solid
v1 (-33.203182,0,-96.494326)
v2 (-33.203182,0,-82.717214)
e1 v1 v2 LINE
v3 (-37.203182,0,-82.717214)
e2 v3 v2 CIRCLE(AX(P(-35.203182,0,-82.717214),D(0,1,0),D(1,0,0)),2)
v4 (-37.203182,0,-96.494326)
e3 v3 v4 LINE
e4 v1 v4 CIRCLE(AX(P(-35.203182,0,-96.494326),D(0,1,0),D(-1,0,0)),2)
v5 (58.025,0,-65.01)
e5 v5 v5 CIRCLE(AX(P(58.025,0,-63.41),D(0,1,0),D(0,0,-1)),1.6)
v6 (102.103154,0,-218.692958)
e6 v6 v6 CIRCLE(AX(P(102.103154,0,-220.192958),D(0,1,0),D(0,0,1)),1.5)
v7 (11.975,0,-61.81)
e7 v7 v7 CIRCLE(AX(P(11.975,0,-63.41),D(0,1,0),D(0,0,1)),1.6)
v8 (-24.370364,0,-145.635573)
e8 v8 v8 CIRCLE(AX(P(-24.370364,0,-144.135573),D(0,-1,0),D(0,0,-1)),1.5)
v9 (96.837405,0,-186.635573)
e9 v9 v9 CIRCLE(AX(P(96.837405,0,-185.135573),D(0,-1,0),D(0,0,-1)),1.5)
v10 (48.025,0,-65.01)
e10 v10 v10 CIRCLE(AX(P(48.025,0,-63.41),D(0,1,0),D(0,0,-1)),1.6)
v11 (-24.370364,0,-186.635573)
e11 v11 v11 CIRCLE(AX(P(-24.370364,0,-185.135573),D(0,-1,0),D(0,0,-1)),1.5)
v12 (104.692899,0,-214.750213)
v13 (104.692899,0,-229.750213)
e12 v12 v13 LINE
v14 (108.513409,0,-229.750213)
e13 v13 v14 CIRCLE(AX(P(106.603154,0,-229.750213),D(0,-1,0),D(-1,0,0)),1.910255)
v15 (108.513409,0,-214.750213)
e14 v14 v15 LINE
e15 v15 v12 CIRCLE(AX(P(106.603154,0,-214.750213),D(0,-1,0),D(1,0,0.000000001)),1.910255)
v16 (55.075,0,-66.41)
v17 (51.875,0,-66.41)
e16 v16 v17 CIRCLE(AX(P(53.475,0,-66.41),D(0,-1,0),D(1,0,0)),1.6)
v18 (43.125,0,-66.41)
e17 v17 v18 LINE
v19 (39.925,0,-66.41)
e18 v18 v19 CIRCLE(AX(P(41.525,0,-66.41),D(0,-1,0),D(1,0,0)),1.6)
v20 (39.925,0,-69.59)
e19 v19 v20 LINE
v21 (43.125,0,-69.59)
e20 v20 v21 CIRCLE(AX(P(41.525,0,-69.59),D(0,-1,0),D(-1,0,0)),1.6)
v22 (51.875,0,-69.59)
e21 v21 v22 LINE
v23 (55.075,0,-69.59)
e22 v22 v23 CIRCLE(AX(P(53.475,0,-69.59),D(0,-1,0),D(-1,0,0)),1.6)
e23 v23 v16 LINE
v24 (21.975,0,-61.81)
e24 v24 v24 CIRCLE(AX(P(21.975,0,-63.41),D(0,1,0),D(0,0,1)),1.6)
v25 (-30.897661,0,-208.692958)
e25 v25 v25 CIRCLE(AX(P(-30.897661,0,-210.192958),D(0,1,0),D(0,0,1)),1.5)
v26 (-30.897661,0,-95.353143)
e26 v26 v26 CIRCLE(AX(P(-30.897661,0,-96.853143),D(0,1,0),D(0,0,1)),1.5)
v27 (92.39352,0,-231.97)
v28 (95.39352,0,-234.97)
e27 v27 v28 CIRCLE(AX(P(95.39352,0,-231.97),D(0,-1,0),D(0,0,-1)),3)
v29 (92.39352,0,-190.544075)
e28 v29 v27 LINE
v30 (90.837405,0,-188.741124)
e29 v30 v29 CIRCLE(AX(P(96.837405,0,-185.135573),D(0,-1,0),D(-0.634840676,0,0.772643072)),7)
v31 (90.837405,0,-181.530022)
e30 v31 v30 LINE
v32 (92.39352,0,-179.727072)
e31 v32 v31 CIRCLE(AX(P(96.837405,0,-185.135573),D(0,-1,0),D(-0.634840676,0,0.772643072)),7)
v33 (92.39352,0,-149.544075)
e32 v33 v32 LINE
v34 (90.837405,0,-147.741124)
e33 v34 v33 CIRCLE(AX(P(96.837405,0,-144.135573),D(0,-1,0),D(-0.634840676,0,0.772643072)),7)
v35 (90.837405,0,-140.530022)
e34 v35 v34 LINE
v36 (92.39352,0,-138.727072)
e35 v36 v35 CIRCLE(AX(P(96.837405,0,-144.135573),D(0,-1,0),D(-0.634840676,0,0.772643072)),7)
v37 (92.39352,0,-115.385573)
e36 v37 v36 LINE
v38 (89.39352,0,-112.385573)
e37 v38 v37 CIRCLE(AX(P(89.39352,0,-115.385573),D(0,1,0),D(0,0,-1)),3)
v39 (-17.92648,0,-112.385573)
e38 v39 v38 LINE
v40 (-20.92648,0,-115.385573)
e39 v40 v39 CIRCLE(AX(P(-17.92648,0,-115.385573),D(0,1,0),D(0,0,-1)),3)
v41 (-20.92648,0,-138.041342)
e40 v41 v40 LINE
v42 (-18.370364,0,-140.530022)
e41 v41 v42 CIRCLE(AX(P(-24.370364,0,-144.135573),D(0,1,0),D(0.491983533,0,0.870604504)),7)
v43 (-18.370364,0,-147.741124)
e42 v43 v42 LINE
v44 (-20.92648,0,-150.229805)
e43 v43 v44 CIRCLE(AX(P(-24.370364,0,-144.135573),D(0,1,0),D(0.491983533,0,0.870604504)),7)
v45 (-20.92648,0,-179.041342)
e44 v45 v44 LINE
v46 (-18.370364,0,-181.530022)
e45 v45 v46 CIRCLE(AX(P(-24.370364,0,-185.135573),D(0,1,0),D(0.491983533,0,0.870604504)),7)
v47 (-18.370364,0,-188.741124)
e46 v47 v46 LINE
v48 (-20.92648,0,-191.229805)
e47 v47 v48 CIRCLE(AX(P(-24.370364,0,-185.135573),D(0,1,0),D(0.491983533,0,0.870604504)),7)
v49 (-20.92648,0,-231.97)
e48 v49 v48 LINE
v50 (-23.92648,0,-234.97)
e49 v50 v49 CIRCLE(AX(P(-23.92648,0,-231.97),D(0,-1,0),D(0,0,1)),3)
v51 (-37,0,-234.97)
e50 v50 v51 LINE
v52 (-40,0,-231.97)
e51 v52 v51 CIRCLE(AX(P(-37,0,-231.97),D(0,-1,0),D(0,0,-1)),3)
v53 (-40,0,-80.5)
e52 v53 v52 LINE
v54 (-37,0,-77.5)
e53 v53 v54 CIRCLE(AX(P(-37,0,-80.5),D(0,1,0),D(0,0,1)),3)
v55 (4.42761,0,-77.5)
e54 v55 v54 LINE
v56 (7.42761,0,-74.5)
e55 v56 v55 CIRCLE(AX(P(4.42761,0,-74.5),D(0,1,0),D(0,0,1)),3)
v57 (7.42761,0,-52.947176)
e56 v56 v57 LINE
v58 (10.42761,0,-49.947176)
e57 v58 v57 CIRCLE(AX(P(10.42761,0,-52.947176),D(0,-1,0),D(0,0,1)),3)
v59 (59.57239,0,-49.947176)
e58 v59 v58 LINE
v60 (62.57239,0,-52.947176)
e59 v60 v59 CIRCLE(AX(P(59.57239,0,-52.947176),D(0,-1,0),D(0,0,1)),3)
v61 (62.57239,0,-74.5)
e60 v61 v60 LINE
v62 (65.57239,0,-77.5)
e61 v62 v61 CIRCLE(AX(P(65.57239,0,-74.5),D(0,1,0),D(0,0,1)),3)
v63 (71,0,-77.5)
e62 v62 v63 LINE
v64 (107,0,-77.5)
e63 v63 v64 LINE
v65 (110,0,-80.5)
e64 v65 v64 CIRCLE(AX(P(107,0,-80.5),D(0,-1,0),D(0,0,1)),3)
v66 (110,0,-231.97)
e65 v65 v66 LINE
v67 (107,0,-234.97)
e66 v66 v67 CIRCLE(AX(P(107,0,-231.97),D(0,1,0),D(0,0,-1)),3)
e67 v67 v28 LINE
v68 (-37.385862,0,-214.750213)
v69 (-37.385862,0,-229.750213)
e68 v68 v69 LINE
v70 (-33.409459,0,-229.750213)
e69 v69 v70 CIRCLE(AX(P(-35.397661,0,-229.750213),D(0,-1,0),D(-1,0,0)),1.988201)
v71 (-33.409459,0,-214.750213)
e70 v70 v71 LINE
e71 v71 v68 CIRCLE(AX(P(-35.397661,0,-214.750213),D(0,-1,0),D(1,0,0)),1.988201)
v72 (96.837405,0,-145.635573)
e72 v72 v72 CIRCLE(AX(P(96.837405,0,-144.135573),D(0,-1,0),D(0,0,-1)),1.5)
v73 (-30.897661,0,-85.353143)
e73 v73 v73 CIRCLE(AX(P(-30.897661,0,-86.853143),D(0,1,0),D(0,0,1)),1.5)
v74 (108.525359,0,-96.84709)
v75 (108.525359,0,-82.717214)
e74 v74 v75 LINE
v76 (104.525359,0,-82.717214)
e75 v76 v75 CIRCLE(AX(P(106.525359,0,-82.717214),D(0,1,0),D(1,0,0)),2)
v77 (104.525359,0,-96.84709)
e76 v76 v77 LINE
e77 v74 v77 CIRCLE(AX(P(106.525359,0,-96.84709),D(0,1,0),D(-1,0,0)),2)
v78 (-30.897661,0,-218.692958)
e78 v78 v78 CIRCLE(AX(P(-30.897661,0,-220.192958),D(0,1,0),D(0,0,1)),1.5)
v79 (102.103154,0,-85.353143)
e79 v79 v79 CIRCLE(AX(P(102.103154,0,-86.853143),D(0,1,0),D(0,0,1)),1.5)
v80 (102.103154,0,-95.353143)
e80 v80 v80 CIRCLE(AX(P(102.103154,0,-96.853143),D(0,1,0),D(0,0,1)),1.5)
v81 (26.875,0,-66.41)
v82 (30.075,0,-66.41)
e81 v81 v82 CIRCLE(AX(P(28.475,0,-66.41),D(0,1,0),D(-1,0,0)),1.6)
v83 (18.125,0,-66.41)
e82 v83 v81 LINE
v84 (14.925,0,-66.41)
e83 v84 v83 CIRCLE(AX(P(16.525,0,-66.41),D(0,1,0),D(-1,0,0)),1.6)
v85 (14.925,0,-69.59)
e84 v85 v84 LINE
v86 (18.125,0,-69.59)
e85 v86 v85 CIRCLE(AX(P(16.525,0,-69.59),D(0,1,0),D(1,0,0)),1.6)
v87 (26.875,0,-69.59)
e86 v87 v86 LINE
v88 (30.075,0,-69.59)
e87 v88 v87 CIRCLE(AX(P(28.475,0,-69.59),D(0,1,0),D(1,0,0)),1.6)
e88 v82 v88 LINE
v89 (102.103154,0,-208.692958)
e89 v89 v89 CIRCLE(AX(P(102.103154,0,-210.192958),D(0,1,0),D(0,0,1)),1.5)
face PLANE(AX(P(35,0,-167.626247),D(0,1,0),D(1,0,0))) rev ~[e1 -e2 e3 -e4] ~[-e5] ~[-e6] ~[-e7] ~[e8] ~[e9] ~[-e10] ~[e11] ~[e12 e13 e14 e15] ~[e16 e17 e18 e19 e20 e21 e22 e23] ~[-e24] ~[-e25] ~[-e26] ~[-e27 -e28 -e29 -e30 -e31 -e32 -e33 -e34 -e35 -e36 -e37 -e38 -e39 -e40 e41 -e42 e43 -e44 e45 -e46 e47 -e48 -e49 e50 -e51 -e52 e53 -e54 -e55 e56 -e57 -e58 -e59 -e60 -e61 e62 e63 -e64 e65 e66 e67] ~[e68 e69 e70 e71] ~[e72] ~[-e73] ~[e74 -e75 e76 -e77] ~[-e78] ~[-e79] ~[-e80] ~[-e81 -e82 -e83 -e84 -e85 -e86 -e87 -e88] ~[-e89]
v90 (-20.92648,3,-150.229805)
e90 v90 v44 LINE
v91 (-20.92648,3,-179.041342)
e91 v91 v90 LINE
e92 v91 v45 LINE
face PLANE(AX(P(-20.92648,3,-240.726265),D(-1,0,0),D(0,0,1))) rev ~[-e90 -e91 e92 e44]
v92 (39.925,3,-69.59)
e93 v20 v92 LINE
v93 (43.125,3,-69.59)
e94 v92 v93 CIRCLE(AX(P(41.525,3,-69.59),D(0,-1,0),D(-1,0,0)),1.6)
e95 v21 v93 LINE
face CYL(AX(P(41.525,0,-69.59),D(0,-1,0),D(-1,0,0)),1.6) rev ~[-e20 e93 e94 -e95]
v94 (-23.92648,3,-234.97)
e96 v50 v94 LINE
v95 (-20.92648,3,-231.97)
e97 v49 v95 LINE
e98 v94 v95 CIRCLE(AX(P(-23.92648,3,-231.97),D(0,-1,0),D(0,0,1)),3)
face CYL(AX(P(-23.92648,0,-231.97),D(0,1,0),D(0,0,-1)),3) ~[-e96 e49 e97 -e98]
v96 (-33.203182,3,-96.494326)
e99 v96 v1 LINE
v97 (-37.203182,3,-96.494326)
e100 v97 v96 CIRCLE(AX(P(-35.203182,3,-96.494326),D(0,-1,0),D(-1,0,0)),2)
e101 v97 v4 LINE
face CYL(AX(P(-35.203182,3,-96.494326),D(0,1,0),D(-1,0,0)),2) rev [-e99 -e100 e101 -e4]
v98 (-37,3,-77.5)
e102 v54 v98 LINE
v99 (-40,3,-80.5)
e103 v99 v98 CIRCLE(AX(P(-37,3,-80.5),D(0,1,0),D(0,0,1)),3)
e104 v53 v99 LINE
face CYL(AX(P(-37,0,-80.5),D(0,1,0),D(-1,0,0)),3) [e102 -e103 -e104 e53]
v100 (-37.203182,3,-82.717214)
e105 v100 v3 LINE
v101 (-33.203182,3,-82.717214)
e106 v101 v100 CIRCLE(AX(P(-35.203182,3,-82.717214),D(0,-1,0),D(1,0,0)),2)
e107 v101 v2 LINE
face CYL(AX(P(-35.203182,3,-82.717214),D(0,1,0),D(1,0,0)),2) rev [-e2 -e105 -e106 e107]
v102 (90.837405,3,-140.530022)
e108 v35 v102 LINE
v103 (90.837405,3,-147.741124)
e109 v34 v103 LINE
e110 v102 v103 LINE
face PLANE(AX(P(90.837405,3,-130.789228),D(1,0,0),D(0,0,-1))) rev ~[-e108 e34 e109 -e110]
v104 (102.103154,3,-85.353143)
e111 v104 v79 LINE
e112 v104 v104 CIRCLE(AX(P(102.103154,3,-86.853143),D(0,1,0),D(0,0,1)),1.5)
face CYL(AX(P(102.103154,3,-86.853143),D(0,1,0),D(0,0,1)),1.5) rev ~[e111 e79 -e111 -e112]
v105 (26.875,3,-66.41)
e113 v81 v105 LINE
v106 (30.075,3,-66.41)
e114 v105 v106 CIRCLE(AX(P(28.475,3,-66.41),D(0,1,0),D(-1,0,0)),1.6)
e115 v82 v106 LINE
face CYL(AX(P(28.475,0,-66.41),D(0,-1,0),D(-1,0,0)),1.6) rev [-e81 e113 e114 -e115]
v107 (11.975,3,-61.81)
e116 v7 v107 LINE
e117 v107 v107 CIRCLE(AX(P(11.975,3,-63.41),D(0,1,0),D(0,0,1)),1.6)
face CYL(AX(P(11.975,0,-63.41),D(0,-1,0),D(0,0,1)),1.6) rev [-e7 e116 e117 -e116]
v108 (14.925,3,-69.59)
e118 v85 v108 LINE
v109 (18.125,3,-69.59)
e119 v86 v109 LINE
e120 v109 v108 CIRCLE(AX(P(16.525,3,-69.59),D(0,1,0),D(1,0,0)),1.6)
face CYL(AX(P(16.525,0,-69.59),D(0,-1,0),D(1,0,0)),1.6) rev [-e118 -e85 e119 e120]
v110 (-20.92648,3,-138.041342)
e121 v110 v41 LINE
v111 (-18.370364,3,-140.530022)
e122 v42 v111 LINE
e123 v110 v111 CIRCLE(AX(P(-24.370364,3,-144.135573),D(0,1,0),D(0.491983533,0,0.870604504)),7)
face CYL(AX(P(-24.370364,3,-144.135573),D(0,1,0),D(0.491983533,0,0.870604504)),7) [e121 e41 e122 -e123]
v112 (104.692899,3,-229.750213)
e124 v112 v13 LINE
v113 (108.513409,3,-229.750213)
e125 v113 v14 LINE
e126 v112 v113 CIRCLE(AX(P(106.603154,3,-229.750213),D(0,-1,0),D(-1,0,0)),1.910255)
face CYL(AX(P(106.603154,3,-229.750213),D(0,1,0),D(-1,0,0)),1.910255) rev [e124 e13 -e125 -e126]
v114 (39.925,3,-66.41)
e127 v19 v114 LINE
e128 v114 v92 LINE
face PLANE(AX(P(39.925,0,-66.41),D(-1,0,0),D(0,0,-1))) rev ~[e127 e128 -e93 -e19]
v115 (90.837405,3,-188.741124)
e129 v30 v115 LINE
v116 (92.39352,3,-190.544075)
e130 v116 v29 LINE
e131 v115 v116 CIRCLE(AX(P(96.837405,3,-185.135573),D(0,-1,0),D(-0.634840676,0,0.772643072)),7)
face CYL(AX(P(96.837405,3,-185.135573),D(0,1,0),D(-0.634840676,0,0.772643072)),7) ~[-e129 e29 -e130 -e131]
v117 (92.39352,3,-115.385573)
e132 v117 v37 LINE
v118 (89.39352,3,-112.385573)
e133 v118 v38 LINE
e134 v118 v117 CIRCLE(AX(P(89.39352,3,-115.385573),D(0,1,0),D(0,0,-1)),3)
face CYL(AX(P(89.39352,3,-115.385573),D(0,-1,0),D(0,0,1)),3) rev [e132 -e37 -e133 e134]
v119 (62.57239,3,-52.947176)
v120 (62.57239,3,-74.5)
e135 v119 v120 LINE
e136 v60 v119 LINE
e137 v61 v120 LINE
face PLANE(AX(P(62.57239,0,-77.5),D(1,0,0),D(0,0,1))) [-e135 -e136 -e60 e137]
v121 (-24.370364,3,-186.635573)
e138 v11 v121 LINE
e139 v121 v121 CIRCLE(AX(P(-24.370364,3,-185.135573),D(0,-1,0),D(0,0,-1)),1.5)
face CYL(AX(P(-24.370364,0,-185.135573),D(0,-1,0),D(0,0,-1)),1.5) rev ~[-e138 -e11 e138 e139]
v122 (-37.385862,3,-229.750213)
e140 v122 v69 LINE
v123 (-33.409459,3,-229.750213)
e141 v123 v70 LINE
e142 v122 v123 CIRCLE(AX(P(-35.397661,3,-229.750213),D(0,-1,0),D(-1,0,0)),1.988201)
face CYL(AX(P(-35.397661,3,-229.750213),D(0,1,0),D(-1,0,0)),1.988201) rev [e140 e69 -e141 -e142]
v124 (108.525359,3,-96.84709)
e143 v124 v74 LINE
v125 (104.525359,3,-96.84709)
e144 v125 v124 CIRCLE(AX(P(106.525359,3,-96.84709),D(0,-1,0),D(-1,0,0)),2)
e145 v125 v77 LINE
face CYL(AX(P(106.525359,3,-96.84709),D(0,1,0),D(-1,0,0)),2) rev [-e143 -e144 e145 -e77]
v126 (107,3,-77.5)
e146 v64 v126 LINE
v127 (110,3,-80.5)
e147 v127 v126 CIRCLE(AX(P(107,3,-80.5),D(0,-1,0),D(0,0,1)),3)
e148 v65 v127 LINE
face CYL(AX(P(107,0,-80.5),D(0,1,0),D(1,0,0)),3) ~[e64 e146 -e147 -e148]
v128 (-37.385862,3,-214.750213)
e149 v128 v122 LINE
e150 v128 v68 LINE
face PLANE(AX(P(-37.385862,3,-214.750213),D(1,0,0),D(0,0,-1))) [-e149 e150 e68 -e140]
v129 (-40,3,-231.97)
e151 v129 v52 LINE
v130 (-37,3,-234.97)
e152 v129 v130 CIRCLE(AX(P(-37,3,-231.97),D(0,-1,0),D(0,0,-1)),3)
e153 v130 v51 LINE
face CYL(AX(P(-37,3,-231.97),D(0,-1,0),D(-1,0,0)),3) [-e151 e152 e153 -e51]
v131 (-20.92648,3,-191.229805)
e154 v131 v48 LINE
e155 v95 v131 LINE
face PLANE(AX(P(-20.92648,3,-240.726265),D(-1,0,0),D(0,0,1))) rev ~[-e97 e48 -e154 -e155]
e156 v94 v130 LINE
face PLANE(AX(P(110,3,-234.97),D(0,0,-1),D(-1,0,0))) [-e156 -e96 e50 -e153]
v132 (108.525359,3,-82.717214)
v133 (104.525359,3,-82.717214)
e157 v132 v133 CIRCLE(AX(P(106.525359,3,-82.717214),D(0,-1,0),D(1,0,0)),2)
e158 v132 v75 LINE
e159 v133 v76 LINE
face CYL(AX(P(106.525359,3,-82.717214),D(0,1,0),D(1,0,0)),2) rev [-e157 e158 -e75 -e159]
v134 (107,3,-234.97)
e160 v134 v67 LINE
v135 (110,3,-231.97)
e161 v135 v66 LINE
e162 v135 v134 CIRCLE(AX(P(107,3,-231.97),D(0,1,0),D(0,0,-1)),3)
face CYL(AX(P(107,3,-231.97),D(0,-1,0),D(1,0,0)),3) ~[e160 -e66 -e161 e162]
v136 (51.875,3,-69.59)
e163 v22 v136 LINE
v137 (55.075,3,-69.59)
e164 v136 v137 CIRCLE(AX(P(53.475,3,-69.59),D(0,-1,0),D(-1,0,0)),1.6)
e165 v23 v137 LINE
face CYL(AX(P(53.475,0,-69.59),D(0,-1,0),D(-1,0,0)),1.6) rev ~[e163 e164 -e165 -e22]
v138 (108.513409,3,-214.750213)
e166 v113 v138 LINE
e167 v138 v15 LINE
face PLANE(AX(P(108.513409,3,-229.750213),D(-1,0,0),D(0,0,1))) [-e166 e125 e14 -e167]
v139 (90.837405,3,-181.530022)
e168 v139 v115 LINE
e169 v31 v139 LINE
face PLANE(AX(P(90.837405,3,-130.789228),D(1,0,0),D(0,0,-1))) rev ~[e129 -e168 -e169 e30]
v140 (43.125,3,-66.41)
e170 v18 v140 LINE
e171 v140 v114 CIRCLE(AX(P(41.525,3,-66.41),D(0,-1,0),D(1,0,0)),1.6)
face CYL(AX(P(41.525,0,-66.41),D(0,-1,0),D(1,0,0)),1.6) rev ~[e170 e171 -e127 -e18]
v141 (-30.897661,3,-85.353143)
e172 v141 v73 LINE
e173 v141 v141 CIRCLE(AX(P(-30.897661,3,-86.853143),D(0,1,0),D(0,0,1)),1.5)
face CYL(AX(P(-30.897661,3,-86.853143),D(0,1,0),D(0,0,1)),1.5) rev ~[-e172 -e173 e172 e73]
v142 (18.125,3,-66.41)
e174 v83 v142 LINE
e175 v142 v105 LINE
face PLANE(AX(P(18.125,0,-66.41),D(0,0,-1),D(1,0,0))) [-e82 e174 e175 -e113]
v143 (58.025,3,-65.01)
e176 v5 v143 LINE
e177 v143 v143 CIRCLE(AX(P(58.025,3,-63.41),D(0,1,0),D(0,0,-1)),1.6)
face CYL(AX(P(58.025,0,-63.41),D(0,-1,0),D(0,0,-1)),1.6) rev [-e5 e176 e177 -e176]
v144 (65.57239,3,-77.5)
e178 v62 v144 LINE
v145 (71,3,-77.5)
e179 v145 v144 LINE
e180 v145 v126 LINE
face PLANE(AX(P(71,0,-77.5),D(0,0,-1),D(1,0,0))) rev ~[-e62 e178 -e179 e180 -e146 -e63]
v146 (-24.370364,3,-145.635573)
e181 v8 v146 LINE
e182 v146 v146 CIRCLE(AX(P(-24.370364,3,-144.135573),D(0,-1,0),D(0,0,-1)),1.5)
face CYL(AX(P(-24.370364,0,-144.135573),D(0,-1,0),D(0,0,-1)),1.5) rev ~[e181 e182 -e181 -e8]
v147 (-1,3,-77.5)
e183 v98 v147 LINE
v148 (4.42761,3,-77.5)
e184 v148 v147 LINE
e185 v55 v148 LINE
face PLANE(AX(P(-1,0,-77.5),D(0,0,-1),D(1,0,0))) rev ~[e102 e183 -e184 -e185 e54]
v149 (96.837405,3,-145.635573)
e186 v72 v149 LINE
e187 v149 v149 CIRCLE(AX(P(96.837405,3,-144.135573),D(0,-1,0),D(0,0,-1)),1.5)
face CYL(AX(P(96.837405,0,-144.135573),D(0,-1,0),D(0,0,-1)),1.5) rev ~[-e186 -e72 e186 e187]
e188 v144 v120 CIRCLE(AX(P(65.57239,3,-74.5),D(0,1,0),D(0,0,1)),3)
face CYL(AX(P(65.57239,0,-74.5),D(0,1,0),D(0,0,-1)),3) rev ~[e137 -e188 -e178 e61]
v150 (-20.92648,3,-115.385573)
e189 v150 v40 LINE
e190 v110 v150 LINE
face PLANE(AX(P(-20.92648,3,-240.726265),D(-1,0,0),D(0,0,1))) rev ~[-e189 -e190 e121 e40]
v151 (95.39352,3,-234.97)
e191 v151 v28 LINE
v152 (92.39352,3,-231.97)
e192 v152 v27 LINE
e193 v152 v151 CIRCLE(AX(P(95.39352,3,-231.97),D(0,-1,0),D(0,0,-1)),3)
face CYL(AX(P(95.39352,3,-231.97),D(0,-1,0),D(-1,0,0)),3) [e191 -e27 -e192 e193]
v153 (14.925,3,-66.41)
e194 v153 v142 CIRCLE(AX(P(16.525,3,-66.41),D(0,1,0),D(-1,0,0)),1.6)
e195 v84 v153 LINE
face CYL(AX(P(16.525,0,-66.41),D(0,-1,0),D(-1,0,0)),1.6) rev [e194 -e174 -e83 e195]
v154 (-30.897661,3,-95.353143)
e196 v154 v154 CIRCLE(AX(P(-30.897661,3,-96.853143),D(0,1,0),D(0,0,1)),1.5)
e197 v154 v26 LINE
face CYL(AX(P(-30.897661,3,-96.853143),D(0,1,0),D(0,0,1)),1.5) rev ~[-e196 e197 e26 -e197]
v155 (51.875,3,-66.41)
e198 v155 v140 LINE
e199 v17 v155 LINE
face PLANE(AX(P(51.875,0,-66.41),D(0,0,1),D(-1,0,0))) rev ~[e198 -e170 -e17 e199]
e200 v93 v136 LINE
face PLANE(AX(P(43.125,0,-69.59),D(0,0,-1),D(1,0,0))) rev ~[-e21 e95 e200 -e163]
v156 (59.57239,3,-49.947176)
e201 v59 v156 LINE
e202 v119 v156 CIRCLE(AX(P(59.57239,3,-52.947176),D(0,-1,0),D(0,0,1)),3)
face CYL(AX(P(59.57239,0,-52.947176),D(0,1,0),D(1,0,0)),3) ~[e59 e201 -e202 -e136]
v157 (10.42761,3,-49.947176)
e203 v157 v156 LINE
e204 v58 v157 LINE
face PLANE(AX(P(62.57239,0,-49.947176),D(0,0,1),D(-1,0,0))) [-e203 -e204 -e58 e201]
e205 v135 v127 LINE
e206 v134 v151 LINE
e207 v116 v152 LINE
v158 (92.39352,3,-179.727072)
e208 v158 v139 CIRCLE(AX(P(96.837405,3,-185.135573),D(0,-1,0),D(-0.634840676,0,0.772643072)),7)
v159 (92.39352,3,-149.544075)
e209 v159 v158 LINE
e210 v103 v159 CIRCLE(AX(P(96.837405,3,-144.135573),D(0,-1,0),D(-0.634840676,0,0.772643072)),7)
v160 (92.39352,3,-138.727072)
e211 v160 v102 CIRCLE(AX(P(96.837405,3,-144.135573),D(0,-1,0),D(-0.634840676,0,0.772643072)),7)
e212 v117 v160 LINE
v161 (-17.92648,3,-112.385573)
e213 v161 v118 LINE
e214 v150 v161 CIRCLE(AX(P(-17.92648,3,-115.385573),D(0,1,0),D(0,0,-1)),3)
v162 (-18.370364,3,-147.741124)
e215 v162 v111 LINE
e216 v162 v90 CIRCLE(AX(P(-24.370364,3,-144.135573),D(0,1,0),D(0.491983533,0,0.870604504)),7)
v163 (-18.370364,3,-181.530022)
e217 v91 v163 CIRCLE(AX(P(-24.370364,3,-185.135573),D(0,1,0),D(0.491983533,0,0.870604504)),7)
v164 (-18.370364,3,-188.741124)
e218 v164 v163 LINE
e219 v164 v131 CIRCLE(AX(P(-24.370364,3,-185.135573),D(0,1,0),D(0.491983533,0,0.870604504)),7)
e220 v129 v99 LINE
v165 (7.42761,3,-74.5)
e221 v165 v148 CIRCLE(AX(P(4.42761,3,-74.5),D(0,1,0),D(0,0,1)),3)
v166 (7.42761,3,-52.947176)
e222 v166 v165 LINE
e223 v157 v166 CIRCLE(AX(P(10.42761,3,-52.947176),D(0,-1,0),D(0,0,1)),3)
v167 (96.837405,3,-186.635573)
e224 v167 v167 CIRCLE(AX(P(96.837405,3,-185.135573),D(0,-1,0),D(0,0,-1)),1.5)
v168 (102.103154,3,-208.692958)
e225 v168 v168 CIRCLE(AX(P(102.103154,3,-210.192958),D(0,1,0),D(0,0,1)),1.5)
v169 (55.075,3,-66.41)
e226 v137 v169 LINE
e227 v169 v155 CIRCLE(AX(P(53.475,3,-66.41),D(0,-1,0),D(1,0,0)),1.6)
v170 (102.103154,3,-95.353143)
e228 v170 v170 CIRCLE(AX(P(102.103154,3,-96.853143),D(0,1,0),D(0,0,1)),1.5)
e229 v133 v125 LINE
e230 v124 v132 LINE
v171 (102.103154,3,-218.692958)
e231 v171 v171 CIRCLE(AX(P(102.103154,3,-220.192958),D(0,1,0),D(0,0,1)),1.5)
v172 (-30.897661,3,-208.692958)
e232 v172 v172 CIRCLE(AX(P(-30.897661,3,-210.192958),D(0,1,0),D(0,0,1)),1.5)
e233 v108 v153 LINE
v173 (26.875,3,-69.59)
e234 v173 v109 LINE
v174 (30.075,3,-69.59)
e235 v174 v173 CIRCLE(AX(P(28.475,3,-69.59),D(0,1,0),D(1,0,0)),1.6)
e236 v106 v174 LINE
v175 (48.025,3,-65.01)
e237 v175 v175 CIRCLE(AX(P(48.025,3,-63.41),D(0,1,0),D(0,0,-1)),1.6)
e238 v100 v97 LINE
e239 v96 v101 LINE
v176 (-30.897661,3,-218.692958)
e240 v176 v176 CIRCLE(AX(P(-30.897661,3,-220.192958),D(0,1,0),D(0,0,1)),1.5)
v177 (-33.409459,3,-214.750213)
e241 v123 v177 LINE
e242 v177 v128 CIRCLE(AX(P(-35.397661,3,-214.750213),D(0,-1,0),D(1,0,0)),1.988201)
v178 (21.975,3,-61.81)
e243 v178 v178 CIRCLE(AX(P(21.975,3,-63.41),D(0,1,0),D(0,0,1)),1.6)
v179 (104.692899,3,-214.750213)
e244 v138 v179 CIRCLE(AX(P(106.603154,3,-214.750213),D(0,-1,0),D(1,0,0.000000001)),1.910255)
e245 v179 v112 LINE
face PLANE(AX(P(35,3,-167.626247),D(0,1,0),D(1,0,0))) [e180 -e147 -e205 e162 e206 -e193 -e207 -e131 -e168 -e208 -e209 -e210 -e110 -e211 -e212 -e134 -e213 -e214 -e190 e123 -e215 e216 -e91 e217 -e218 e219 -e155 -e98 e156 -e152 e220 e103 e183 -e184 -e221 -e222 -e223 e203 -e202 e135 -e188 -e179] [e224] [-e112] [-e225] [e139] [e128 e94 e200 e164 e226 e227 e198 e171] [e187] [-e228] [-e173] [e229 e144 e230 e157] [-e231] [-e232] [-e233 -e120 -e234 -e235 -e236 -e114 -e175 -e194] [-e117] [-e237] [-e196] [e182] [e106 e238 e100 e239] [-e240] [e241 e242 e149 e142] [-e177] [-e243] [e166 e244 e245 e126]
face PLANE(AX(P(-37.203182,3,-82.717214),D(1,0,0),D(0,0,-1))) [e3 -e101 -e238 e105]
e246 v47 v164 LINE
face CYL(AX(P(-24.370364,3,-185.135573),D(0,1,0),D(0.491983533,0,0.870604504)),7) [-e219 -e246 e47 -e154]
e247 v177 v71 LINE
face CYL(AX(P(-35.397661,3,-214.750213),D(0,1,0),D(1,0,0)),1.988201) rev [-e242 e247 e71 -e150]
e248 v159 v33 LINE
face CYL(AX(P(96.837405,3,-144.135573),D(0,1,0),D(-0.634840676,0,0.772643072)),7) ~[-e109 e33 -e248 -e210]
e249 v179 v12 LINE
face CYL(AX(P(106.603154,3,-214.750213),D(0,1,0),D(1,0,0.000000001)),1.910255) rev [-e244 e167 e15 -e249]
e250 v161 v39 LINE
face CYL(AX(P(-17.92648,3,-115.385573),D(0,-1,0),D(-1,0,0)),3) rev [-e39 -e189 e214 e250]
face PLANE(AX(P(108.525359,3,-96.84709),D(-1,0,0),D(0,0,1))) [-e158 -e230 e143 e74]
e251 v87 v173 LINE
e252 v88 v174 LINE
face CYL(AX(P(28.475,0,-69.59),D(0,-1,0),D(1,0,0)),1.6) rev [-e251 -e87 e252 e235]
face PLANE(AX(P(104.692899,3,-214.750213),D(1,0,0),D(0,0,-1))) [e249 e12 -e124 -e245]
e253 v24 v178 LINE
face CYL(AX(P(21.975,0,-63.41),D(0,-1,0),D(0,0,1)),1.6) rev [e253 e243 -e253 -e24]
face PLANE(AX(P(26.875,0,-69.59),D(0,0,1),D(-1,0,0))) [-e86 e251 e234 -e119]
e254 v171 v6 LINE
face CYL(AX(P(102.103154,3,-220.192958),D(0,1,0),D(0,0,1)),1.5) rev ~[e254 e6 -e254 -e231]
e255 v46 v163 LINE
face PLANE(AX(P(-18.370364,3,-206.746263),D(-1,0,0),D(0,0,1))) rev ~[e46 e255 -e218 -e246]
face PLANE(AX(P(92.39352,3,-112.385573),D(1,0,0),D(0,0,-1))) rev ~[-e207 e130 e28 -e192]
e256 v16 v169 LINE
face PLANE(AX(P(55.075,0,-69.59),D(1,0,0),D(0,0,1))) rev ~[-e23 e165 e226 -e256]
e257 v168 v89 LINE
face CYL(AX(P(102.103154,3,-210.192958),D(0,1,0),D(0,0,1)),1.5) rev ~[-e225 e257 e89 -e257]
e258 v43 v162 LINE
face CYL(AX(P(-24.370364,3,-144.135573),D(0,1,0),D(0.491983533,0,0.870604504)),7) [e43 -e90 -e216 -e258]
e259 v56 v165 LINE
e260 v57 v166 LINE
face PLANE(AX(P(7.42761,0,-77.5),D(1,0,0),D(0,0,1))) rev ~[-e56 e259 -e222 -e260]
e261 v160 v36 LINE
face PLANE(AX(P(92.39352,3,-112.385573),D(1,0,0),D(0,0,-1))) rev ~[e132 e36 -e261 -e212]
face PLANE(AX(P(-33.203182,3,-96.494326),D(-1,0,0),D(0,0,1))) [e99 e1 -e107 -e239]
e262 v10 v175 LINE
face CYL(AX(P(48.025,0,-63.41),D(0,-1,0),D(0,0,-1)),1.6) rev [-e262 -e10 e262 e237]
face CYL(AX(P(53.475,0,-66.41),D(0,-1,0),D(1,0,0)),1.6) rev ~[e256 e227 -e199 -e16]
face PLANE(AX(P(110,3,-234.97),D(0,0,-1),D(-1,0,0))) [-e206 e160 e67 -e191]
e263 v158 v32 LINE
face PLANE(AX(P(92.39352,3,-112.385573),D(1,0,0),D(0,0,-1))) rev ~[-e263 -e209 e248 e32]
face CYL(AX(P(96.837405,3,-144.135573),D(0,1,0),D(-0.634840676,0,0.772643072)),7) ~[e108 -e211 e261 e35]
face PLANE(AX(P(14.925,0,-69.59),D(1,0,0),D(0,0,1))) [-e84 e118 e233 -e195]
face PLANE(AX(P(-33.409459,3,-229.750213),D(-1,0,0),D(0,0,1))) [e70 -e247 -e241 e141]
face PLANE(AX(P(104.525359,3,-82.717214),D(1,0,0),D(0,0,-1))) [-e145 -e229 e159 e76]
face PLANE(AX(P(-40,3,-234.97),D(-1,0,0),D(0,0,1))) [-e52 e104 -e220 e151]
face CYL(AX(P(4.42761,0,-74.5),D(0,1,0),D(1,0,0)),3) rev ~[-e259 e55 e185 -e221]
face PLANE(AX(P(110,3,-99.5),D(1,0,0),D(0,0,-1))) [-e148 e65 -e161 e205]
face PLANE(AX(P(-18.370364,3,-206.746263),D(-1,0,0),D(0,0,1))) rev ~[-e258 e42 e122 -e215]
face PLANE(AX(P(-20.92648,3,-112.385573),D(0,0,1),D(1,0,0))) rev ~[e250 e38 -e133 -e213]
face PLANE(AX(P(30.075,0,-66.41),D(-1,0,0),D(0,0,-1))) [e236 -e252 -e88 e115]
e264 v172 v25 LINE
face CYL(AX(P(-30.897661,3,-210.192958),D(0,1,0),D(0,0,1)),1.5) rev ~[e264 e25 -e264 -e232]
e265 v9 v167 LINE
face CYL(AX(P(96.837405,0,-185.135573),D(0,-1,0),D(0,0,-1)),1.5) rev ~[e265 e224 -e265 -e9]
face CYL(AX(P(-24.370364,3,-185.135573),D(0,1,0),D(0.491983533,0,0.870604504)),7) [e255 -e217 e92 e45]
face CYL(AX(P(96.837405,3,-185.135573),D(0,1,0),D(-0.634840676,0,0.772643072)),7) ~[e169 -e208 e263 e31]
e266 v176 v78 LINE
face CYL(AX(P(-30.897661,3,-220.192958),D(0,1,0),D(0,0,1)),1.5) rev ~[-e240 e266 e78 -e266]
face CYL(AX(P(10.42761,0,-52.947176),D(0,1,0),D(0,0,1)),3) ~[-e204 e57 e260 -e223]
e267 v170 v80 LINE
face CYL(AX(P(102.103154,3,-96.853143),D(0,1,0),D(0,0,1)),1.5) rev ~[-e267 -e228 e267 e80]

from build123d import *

# Parameters (mm, degrees)
SKETCH_1_R           = 1.6
EXTRUDE_1_DEPTH      = 3
SKETCH_5_W           = 8.427610272
SKETCH_5_H           = 29.562823711
CUT_EXTRUDE_4_DEPTH  = 10
SKETCH_7_W           = 55.144779456
SKETCH_7_H           = 10
CUT_EXTRUDE_1_DEPTH  = 100
CUT_EXTRUDE_5_DEPTH  = 100
CUT_EXTRUDE_6_DEPTH  = 100
FILLET_3_R           = 3
CUT_EXTRUDE_10_DEPTH = 10
EXTRUDE_2_DEPTH      = 3
FILLET_4_R           = 3
CUT_EXTRUDE_12_DEPTH = 3
SKETCH_18_R          = 1.5
CUT_EXTRUDE_13_DEPTH = 10
SKETCH_19_R          = 1.5
CUT_EXTRUDE_14_DEPTH = 10
SKETCH_22_R          = 1.5
SKETCH_22_W          = 106.4
SKETCH_22_H          = 92.5
CUT_EXTRUDE_15_DEPTH = 10
CUT_EXTRUDE_16_DEPTH = 10
FILLET_5_R           = 3
EXTRUDE_4_DEPTH      = 3
CUT_EXTRUDE_17_DEPTH = 45
SKETCH_26_R          = 1.5
CUT_EXTRUDE_18_DEPTH = 45
SKETCH_28_R          = 1.5
CUT_EXTRUDE_19_DEPTH = 45


with BuildPart() as part:
    # 草图1 → 凸台-拉伸1 (new body)
    with BuildSketch(Plane(origin=(0, 0, 0), x_dir=(1, 0, 0), z_dir=(0, 1, 0))):
        Polygon((-1, -77.5), (-40, -77.5), (-40, -235.15), (110, -235.15), (110, -77.5), (71, -77.5), (71, -47.937176289), (113.89906921, -47.937176289), (113.89906921, 47.937176289), (71, 47.937176289), (71, 77.5), (110, 77.5), (110, 235.15), (-40, 235.15), (-40, 77.5), (-1, 77.5), (-1, 47.937176289), (-43.89906921, 47.937176289), (-43.89906921, -47.937176289), (-1, -47.937176289), align=None)
        with Locations(Location((48.025, -63.59, 0), (0, 0, 90))):
            Circle(SKETCH_1_R, mode=Mode.SUBTRACT)
        with Locations(Location((58.025, -63.59, 0), (0, 0, 90))):
            Circle(SKETCH_1_R, mode=Mode.SUBTRACT)
        with Locations(Location((58.025, 63.41, 0), (0, 0, 90))):
            Circle(SKETCH_1_R, mode=Mode.SUBTRACT)
        with Locations(Location((48.025, 63.41, 0), (0, 0, 90))):
            Circle(SKETCH_1_R, mode=Mode.SUBTRACT)
        with Locations(Location((11.975, -63.59, 0), (0, 0, 270))):
            Circle(SKETCH_1_R, mode=Mode.SUBTRACT)
        with Locations(Location((21.975, -63.59, 0), (0, 0, 270))):
            Circle(SKETCH_1_R, mode=Mode.SUBTRACT)
        with Locations(Location((21.975, 63.41, 0), (0, 0, 270))):
            Circle(SKETCH_1_R, mode=Mode.SUBTRACT)
        with Locations(Location((11.975, 63.41, 0), (0, 0, 270))):
            Circle(SKETCH_1_R, mode=Mode.SUBTRACT)
        with BuildLine():
            Line((30.075, -69.59), (30.075, -66.41))
            ThreePointArc((30.075, -66.41), (28.475, -64.81), (26.875, -66.41))
            Line((26.875, -66.41), (18.125, -66.41))
            ThreePointArc((18.125, -66.41), (16.525, -64.81), (14.925, -66.41))
            Line((14.925, -66.41), (14.925, -69.59))
            ThreePointArc((14.925, -69.59), (16.525, -71.19), (18.125, -69.59))
            Line((18.125, -69.59), (26.875, -69.59))
            ThreePointArc((26.875, -69.59), (28.475, -71.19), (30.075, -69.59))
        make_face(mode=Mode.SUBTRACT)
        with BuildLine():
            Line((43.125, 69.59), (51.875, 69.59))
            ThreePointArc((51.875, 69.59), (53.475, 71.19), (55.075, 69.59))
            Line((55.075, 69.59), (55.075, 66.41))
            ThreePointArc((55.075, 66.41), (53.475, 64.81), (51.875, 66.41))
            Line((51.875, 66.41), (43.125, 66.41))
            ThreePointArc((43.125, 66.41), (41.525, 64.81), (39.925, 66.41))
            Line((39.925, 66.41), (39.925, 69.59))
            ThreePointArc((39.925, 69.59), (41.525, 71.19), (43.125, 69.59))
        make_face(mode=Mode.SUBTRACT)
        with BuildLine():
            Line((55.075, -69.59), (55.075, -66.41))
            ThreePointArc((55.075, -66.41), (53.475, -64.81), (51.875, -66.41))
            Line((51.875, -66.41), (43.125, -66.41))
            ThreePointArc((43.125, -66.41), (41.525, -64.81), (39.925, -66.41))
            Line((39.925, -66.41), (39.925, -69.59))
            ThreePointArc((39.925, -69.59), (41.525, -71.19), (43.125, -69.59))
            Line((43.125, -69.59), (51.875, -69.59))
            ThreePointArc((51.875, -69.59), (53.475, -71.19), (55.075, -69.59))
        make_face(mode=Mode.SUBTRACT)
        with BuildLine():
            Line((14.925, 69.59), (14.925, 66.41))
            ThreePointArc((14.925, 66.41), (16.525, 64.81), (18.125, 66.41))
            Line((18.125, 66.41), (26.875, 66.41))
            ThreePointArc((26.875, 66.41), (28.475, 64.81), (30.075, 66.41))
            Line((30.075, 66.41), (30.075, 69.59))
            ThreePointArc((30.075, 69.59), (28.475, 71.19), (26.875, 69.59))
            Line((26.875, 69.59), (18.125, 69.59))
            ThreePointArc((18.125, 69.59), (16.525, 71.19), (14.925, 69.59))
        make_face(mode=Mode.SUBTRACT)
    extrude(amount=EXTRUDE_1_DEPTH)

    # 草图5 → 切除-拉伸4 (cut)
    with BuildSketch(Plane.XZ):
        with Locations((66.786194864, 62.718588145)):
            Rectangle(SKETCH_5_W, SKETCH_5_H)
        with Locations((3.213805136, 62.718588145)):
            Rectangle(SKETCH_5_W, SKETCH_5_H)
        with Locations((3.213805136, -62.718588145)):
            Rectangle(SKETCH_5_W, SKETCH_5_H)
        with Locations((66.786194864, -62.718588145)):
            Rectangle(SKETCH_5_W, SKETCH_5_H)
    extrude(amount=-CUT_EXTRUDE_4_DEPTH, mode=Mode.SUBTRACT)

    # 草图7 → 切除-拉伸-薄壁1 (cut)
    with BuildSketch(Plane(origin=(0, 0, 0), x_dir=(-1, 0, 0), z_dir=(0, -1, 0))):
        with Locations((-35, -55.277176289)):
            Rectangle(SKETCH_7_W, SKETCH_7_H)
        Polygon((-113.89906921, -0.33), (-113.89906921, 47.607176289), (-62.572389728, 47.607176289), (-62.572389728, 49.947176289), (-7.427610272, 49.947176289), (-7.427610272, 47.607176289), (43.89906921, 47.607176289), (43.89906921, -0.33), (33.89906921, -0.33), (33.89906921, 37.607176289), (-17.427610272, 37.607176289), (-17.427610272, 39.947176289), (-52.572389728, 39.947176289), (-52.572389728, 37.607176289), (-103.89906921, 37.607176289), (-103.89906921, -0.33), align=None)
    extrude(amount=-CUT_EXTRUDE_1_DEPTH, mode=Mode.SUBTRACT)


with BuildPart() as cut_extrude_1_piece_1:
    # of the separate pieces the step leaves, piece 1, a body of its own (cut_extrude_1_pieces)
    add(part.part.solids().sort_by_distance((7.427610272, 0, -77.5))[0])

    # 草图9 → 切除-拉伸6 (cut)
    with BuildSketch(Plane.XZ):
        Polygon((-40, -102.5), (110, -102.5), (124.211694431, -119.691261336), (154.987235789, -211.57345947), (124.211694431, -286.861832075), (-63.673505757, -270.701496299), (-75.556105593, -182.770257517), (-74.082044988, -165.632360403), align=None)
    extrude(amount=-CUT_EXTRUDE_6_DEPTH, mode=Mode.SUBTRACT)

    # 圆角3
    fillet_3_edges = [cut_extrude_1_piece_1.edges().sort_by_distance(p)[0] for p in [
        (110, 1.5, -77.5),
        (-40, 1.5, -77.5),
        (62.572389728, 1.5, -77.5),
        (7.427610272, 1.5, -77.5),
        (-40, 1.5, -102.5),
        (110, 1.5, -102.5),
        (7.427610272, 1.5, -49.947176289),
        (62.572389728, 1.5, -49.947176289),
    ]]
    fillet(fillet_3_edges, radius=FILLET_3_R)

    # 草图13 → 切除-拉伸10 (cut)
    with BuildSketch(Plane(origin=(0, 3, 0), x_dir=(1, 0, 0), z_dir=(0, 1, 0))):
        with BuildLine():
            Line((108.525358631, 96.847090499), (108.525358631, 82.717214218))
            ThreePointArc((108.525358631, 82.717214218), (106.525358631, 80.717214218), (104.525358631, 82.717214218))
            Line((104.525358631, 82.717214218), (104.525358631, 96.847090499))
            ThreePointArc((104.525358631, 96.847090499), (106.525358631, 98.847090499), (108.525358631, 96.847090499))
        make_face()
        with BuildLine():
            Line((-33.2031819, 96.494326464), (-33.2031819, 82.717214218))
            ThreePointArc((-33.2031819, 82.717214218), (-35.2031819, 80.717214218), (-37.2031819, 82.717214218))
            Line((-37.2031819, 82.717214218), (-37.2031819, 96.494326464))
            ThreePointArc((-37.2031819, 96.494326464), (-35.2031819, 98.494326464), (-33.2031819, 96.494326464))
        make_face()
    extrude(amount=-CUT_EXTRUDE_10_DEPTH, mode=Mode.SUBTRACT)

    # 草图14 → 凸台-拉伸2 (add)
    with BuildSketch(Plane(origin=(0, 3, 0), x_dir=(1, 0, 0), z_dir=(0, 1, 0))):
        with BuildLine():
            Line((110, 99.5), (110, 234.97))
            Line((110, 234.97), (-40, 234.97))
            Line((-40, 234.97), (-40, 99.5))
            ThreePointArc((-40, 99.5), (-39.121320344, 101.621320344), (-37, 102.5))
            Line((-37, 102.5), (107, 102.5))
            ThreePointArc((107, 102.5), (109.121320344, 101.621320344), (110, 99.5))
        make_face()
    extrude(amount=-EXTRUDE_2_DEPTH)

    # 圆角4
    fillet_4_edges = [cut_extrude_1_piece_1.edges().sort_by_distance(p)[0] for p in [
        (-40, 1.5, -234.97),
        (110, 1.5, -234.97),
    ]]
    fillet(fillet_4_edges, radius=FILLET_4_R)

    # 草图16 → 切除-拉伸12 (cut)
    with BuildSketch(Plane(origin=(0, 3, 0), x_dir=(1, 0, 0), z_dir=(0, 1, 0))):
        with BuildLine():
            Line((-33.409459462, 229.7502134), (-33.409459462, 214.7502134))
            ThreePointArc((-33.409459462, 214.7502134), (-35.397660639, 212.762012223), (-37.385861817, 214.7502134))
            Line((-37.385861817, 214.7502134), (-37.385861817, 229.7502134))
            ThreePointArc((-37.385861817, 229.7502134), (-35.397660639, 231.738414578), (-33.409459462, 229.7502134))
        make_face()
        with BuildLine():
            Line((108.513408836, 229.7502134), (108.513408836, 214.7502134))
            ThreePointArc((108.513408836, 214.7502134), (106.603153693, 212.839958258), (104.69289855, 214.7502134))
            Line((104.69289855, 214.7502134), (104.69289855, 229.7502134))
            ThreePointArc((104.69289855, 229.7502134), (106.603153693, 231.660468543), (108.513408836, 229.7502134))
        make_face()
    extrude(amount=-CUT_EXTRUDE_12_DEPTH, mode=Mode.SUBTRACT)

    # 草图18 → 切除-拉伸13 (cut)
    with BuildSketch(Plane(origin=(0, 3, 0), x_dir=(1, 0, 0), z_dir=(0, 1, 0))):
        with Locations(Location((102.103153693, 96.853143426, 0), (0, 0, 270))):
            Circle(SKETCH_18_R)
        with Locations(Location((102.103153693, 86.853143426, 0), (0, 0, 270))):
            Circle(SKETCH_18_R)
    extrude(amount=-CUT_EXTRUDE_13_DEPTH, mode=Mode.SUBTRACT)

    # 草图19 → 切除-拉伸14 (cut)
    with BuildSketch(Plane(origin=(0, 3, 0), x_dir=(1, 0, 0), z_dir=(0, 1, 0))):
        with Locations(Location((-30.897660639, 86.853143426, 0), (0, 0, 270))):
            Circle(SKETCH_19_R)
        with Locations(Location((-30.897660639, 96.853143426, 0), (0, 0, 270))):
            Circle(SKETCH_19_R)
    extrude(amount=-CUT_EXTRUDE_14_DEPTH, mode=Mode.SUBTRACT)

    # 草图22 → 切除-拉伸15 (cut)
    with BuildSketch(Plane.XZ):
        with Locations(Location((96.837405042, -185.135573162, 0), (0, 0, 270))):
            Circle(SKETCH_22_R)
        with Locations(Location((96.837405042, -144.135573162, 0), (0, 0, 270))):
            Circle(SKETCH_22_R)
        with Locations(Location((-24.370364421, -185.135573162, 0), (0, 0, 270))):
            Circle(SKETCH_22_R)
        with Locations(Location((-24.370364421, -144.135573162, 0), (0, 0, 270))):
            Circle(SKETCH_22_R)
        with Locations((35.733520311, -164.635573162)):
            Rectangle(SKETCH_22_W, SKETCH_22_H)
    extrude(amount=-CUT_EXTRUDE_15_DEPTH, mode=Mode.SUBTRACT)

    # 草图23 → 切除-拉伸16 (cut)
    with BuildSketch(Plane(origin=(0, 3, 0), x_dir=(1, 0, 0), z_dir=(0, 1, 0))):
        Polygon((-20.926479689, 216.717541525), (-20.926479689, 112.385573162), (92.393520311, 112.385573162), (92.393520311, 240.726264798), (-20.926479689, 240.726264798), align=None)
    extrude(amount=-CUT_EXTRUDE_16_DEPTH, mode=Mode.SUBTRACT)

    # 圆角5
    fillet_5_edges = [cut_extrude_1_piece_1.edges().sort_by_distance(p)[0] for p in [
        (-20.926479689, 1.5, -234.97),
        (92.393520311, 1.5, -234.97),
        (92.393520311, 1.5, -112.385573162),
        (-20.926479689, 1.5, -112.385573162),
    ]]
    fillet(fillet_5_edges, radius=FILLET_5_R)

    # 草图24 → 凸台-拉伸4 (add)
    with BuildSketch(Plane(origin=(0, 3, 0), x_dir=(1, 0, 0), z_dir=(0, 1, 0))):
        with BuildLine():
            Line((-20.926479689, 191.229804694), (-20.926479689, 179.041341631))
            ThreePointArc((-20.926479689, 179.041341631), (-17.370364421, 185.135573162), (-20.926479689, 191.229804694))
        make_face()
        with BuildLine():
            Line((-20.926479689, 150.229804694), (-20.926479689, 138.041341631))
            ThreePointArc((-20.926479689, 138.041341631), (-17.370364421, 144.135573162), (-20.926479689, 150.229804694))
        make_face()
        with BuildLine():
            Line((92.393520311, 190.544074664), (92.393520311, 179.727071661))
            ThreePointArc((92.393520311, 179.727071661), (89.837405042, 185.135573162), (92.393520311, 190.544074664))
        make_face()
        with BuildLine():
            Line((92.393520311, 149.544074664), (92.393520311, 138.727071661))
            ThreePointArc((92.393520311, 138.727071661), (89.837405042, 144.135573162), (92.393520311, 149.544074664))
        make_face()
    extrude(amount=-EXTRUDE_4_DEPTH)

    # 草图25 → 切除-拉伸17 (cut)
    with BuildSketch(Plane(origin=(0, 3, 0), x_dir=(1, 0, 0), z_dir=(0, 1, 0))):
        Polygon((-18.370364421, 193.473494041), (-18.370364421, 130.789227704), (90.837405042, 130.789227704), (90.837405042, 206.746263223), (-18.370364421, 206.746263223), align=None)
    extrude(amount=-CUT_EXTRUDE_17_DEPTH, mode=Mode.SUBTRACT)

    # 草图26 → 切除-拉伸18 (cut)
    with BuildSketch(Plane(origin=(0, 3, 0), x_dir=(1, 0, 0), z_dir=(0, 1, 0))):
        with Locations(Location((102.103153693, 210.19295838, 0), (0, 0, 270))):
            Circle(SKETCH_26_R)
        with Locations(Location((102.103153693, 220.19295838, 0), (0, 0, 270))):
            Circle(SKETCH_26_R)
    extrude(amount=-CUT_EXTRUDE_18_DEPTH, mode=Mode.SUBTRACT)

    # 草图28 → 切除-拉伸19 (cut)
    with BuildSketch(Plane(origin=(0, 3, 0), x_dir=(1, 0, 0), z_dir=(0, 1, 0))):
        with Locations(Location((-30.897660639, 210.19295838, 0), (0, 0, 270))):
            Circle(SKETCH_28_R)
        with Locations(Location((-30.897660639, 220.19295838, 0), (0, 0, 270))):
            Circle(SKETCH_28_R)
    extrude(amount=-CUT_EXTRUDE_19_DEPTH, mode=Mode.SUBTRACT)


with BuildPart() as cut_extrude_1_piece_2:
    # of the separate pieces the step leaves, piece 2, a body of its own (cut_extrude_1_pieces)
    add(part.part.solids().sort_by_distance((-40, 0, 77.5))[0])


with BuildPart() as cut_extrude_1_piece_3:
    # of the separate pieces the step leaves, piece 3, a body of its own (cut_extrude_1_pieces)
    add(part.part.solids().sort_by_distance((7.427610272, 0, 50.277176289))[0])


with BuildPart() as cut_extrude_1_piece_4:
    # of the separate pieces the step leaves, piece 4, a body of its own (cut_extrude_1_pieces)
    add(part.part.solids().sort_by_distance((113.89906921, 0, -47.607176289))[0])


with BuildPart() as cut_extrude_1_piece_5:
    # of the separate pieces the step leaves, piece 5, a body of its own (cut_extrude_1_pieces)
    add(part.part.solids().sort_by_distance((-43.89906921, 0, -47.937176289))[0])


with BuildPart() as cut_extrude_5_tool:
    # 草图8 → 切除-拉伸5 (new body)
    with BuildSketch(Plane(origin=(0, 0, 0), x_dir=(-1, 0, 0), z_dir=(0, -1, 0))):
        Polygon((78.212914253, 60.385355647), (0, 54.326624312), (-4.481912928, 51.672567956), (-7.938908088, 48.761414138), (-49.331876445, 46.578048774), (-63.52375131, 48.761414138), (-79.080229528, 55.85735157), (-126.563695568, 60.385355647), (-136.561762242, 25.020008622), (-185.509289936, -177.467896247), (-114.798778659, -331.741539621), (230.896230576, -266.427705394), (230.896230576, -108.933419225), (223.681342993, -70.746247105), align=None)
    extrude(amount=-CUT_EXTRUDE_5_DEPTH)


with BuildPart() as cut_extrude_1_piece_2_1:
    add(cut_extrude_1_piece_2.part)

    # 切除-拉伸5: cut by cut_extrude_5_tool
    add(cut_extrude_5_tool.part, mode=Mode.SUBTRACT)


with BuildPart() as cut_extrude_1_piece_3_1:
    add(cut_extrude_1_piece_3.part)

    # 切除-拉伸5: cut by cut_extrude_5_tool
    add(cut_extrude_5_tool.part, mode=Mode.SUBTRACT)


with BuildPart() as cut_extrude_1_piece_4_1:
    add(cut_extrude_1_piece_4.part)

    # 切除-拉伸5: cut by cut_extrude_5_tool
    add(cut_extrude_5_tool.part, mode=Mode.SUBTRACT)


with BuildPart() as cut_extrude_1_piece_5_1:
    add(cut_extrude_1_piece_5.part)

    # 切除-拉伸5: cut by cut_extrude_5_tool
    add(cut_extrude_5_tool.part, mode=Mode.SUBTRACT)


solid = cut_extrude_1_piece_1.part
